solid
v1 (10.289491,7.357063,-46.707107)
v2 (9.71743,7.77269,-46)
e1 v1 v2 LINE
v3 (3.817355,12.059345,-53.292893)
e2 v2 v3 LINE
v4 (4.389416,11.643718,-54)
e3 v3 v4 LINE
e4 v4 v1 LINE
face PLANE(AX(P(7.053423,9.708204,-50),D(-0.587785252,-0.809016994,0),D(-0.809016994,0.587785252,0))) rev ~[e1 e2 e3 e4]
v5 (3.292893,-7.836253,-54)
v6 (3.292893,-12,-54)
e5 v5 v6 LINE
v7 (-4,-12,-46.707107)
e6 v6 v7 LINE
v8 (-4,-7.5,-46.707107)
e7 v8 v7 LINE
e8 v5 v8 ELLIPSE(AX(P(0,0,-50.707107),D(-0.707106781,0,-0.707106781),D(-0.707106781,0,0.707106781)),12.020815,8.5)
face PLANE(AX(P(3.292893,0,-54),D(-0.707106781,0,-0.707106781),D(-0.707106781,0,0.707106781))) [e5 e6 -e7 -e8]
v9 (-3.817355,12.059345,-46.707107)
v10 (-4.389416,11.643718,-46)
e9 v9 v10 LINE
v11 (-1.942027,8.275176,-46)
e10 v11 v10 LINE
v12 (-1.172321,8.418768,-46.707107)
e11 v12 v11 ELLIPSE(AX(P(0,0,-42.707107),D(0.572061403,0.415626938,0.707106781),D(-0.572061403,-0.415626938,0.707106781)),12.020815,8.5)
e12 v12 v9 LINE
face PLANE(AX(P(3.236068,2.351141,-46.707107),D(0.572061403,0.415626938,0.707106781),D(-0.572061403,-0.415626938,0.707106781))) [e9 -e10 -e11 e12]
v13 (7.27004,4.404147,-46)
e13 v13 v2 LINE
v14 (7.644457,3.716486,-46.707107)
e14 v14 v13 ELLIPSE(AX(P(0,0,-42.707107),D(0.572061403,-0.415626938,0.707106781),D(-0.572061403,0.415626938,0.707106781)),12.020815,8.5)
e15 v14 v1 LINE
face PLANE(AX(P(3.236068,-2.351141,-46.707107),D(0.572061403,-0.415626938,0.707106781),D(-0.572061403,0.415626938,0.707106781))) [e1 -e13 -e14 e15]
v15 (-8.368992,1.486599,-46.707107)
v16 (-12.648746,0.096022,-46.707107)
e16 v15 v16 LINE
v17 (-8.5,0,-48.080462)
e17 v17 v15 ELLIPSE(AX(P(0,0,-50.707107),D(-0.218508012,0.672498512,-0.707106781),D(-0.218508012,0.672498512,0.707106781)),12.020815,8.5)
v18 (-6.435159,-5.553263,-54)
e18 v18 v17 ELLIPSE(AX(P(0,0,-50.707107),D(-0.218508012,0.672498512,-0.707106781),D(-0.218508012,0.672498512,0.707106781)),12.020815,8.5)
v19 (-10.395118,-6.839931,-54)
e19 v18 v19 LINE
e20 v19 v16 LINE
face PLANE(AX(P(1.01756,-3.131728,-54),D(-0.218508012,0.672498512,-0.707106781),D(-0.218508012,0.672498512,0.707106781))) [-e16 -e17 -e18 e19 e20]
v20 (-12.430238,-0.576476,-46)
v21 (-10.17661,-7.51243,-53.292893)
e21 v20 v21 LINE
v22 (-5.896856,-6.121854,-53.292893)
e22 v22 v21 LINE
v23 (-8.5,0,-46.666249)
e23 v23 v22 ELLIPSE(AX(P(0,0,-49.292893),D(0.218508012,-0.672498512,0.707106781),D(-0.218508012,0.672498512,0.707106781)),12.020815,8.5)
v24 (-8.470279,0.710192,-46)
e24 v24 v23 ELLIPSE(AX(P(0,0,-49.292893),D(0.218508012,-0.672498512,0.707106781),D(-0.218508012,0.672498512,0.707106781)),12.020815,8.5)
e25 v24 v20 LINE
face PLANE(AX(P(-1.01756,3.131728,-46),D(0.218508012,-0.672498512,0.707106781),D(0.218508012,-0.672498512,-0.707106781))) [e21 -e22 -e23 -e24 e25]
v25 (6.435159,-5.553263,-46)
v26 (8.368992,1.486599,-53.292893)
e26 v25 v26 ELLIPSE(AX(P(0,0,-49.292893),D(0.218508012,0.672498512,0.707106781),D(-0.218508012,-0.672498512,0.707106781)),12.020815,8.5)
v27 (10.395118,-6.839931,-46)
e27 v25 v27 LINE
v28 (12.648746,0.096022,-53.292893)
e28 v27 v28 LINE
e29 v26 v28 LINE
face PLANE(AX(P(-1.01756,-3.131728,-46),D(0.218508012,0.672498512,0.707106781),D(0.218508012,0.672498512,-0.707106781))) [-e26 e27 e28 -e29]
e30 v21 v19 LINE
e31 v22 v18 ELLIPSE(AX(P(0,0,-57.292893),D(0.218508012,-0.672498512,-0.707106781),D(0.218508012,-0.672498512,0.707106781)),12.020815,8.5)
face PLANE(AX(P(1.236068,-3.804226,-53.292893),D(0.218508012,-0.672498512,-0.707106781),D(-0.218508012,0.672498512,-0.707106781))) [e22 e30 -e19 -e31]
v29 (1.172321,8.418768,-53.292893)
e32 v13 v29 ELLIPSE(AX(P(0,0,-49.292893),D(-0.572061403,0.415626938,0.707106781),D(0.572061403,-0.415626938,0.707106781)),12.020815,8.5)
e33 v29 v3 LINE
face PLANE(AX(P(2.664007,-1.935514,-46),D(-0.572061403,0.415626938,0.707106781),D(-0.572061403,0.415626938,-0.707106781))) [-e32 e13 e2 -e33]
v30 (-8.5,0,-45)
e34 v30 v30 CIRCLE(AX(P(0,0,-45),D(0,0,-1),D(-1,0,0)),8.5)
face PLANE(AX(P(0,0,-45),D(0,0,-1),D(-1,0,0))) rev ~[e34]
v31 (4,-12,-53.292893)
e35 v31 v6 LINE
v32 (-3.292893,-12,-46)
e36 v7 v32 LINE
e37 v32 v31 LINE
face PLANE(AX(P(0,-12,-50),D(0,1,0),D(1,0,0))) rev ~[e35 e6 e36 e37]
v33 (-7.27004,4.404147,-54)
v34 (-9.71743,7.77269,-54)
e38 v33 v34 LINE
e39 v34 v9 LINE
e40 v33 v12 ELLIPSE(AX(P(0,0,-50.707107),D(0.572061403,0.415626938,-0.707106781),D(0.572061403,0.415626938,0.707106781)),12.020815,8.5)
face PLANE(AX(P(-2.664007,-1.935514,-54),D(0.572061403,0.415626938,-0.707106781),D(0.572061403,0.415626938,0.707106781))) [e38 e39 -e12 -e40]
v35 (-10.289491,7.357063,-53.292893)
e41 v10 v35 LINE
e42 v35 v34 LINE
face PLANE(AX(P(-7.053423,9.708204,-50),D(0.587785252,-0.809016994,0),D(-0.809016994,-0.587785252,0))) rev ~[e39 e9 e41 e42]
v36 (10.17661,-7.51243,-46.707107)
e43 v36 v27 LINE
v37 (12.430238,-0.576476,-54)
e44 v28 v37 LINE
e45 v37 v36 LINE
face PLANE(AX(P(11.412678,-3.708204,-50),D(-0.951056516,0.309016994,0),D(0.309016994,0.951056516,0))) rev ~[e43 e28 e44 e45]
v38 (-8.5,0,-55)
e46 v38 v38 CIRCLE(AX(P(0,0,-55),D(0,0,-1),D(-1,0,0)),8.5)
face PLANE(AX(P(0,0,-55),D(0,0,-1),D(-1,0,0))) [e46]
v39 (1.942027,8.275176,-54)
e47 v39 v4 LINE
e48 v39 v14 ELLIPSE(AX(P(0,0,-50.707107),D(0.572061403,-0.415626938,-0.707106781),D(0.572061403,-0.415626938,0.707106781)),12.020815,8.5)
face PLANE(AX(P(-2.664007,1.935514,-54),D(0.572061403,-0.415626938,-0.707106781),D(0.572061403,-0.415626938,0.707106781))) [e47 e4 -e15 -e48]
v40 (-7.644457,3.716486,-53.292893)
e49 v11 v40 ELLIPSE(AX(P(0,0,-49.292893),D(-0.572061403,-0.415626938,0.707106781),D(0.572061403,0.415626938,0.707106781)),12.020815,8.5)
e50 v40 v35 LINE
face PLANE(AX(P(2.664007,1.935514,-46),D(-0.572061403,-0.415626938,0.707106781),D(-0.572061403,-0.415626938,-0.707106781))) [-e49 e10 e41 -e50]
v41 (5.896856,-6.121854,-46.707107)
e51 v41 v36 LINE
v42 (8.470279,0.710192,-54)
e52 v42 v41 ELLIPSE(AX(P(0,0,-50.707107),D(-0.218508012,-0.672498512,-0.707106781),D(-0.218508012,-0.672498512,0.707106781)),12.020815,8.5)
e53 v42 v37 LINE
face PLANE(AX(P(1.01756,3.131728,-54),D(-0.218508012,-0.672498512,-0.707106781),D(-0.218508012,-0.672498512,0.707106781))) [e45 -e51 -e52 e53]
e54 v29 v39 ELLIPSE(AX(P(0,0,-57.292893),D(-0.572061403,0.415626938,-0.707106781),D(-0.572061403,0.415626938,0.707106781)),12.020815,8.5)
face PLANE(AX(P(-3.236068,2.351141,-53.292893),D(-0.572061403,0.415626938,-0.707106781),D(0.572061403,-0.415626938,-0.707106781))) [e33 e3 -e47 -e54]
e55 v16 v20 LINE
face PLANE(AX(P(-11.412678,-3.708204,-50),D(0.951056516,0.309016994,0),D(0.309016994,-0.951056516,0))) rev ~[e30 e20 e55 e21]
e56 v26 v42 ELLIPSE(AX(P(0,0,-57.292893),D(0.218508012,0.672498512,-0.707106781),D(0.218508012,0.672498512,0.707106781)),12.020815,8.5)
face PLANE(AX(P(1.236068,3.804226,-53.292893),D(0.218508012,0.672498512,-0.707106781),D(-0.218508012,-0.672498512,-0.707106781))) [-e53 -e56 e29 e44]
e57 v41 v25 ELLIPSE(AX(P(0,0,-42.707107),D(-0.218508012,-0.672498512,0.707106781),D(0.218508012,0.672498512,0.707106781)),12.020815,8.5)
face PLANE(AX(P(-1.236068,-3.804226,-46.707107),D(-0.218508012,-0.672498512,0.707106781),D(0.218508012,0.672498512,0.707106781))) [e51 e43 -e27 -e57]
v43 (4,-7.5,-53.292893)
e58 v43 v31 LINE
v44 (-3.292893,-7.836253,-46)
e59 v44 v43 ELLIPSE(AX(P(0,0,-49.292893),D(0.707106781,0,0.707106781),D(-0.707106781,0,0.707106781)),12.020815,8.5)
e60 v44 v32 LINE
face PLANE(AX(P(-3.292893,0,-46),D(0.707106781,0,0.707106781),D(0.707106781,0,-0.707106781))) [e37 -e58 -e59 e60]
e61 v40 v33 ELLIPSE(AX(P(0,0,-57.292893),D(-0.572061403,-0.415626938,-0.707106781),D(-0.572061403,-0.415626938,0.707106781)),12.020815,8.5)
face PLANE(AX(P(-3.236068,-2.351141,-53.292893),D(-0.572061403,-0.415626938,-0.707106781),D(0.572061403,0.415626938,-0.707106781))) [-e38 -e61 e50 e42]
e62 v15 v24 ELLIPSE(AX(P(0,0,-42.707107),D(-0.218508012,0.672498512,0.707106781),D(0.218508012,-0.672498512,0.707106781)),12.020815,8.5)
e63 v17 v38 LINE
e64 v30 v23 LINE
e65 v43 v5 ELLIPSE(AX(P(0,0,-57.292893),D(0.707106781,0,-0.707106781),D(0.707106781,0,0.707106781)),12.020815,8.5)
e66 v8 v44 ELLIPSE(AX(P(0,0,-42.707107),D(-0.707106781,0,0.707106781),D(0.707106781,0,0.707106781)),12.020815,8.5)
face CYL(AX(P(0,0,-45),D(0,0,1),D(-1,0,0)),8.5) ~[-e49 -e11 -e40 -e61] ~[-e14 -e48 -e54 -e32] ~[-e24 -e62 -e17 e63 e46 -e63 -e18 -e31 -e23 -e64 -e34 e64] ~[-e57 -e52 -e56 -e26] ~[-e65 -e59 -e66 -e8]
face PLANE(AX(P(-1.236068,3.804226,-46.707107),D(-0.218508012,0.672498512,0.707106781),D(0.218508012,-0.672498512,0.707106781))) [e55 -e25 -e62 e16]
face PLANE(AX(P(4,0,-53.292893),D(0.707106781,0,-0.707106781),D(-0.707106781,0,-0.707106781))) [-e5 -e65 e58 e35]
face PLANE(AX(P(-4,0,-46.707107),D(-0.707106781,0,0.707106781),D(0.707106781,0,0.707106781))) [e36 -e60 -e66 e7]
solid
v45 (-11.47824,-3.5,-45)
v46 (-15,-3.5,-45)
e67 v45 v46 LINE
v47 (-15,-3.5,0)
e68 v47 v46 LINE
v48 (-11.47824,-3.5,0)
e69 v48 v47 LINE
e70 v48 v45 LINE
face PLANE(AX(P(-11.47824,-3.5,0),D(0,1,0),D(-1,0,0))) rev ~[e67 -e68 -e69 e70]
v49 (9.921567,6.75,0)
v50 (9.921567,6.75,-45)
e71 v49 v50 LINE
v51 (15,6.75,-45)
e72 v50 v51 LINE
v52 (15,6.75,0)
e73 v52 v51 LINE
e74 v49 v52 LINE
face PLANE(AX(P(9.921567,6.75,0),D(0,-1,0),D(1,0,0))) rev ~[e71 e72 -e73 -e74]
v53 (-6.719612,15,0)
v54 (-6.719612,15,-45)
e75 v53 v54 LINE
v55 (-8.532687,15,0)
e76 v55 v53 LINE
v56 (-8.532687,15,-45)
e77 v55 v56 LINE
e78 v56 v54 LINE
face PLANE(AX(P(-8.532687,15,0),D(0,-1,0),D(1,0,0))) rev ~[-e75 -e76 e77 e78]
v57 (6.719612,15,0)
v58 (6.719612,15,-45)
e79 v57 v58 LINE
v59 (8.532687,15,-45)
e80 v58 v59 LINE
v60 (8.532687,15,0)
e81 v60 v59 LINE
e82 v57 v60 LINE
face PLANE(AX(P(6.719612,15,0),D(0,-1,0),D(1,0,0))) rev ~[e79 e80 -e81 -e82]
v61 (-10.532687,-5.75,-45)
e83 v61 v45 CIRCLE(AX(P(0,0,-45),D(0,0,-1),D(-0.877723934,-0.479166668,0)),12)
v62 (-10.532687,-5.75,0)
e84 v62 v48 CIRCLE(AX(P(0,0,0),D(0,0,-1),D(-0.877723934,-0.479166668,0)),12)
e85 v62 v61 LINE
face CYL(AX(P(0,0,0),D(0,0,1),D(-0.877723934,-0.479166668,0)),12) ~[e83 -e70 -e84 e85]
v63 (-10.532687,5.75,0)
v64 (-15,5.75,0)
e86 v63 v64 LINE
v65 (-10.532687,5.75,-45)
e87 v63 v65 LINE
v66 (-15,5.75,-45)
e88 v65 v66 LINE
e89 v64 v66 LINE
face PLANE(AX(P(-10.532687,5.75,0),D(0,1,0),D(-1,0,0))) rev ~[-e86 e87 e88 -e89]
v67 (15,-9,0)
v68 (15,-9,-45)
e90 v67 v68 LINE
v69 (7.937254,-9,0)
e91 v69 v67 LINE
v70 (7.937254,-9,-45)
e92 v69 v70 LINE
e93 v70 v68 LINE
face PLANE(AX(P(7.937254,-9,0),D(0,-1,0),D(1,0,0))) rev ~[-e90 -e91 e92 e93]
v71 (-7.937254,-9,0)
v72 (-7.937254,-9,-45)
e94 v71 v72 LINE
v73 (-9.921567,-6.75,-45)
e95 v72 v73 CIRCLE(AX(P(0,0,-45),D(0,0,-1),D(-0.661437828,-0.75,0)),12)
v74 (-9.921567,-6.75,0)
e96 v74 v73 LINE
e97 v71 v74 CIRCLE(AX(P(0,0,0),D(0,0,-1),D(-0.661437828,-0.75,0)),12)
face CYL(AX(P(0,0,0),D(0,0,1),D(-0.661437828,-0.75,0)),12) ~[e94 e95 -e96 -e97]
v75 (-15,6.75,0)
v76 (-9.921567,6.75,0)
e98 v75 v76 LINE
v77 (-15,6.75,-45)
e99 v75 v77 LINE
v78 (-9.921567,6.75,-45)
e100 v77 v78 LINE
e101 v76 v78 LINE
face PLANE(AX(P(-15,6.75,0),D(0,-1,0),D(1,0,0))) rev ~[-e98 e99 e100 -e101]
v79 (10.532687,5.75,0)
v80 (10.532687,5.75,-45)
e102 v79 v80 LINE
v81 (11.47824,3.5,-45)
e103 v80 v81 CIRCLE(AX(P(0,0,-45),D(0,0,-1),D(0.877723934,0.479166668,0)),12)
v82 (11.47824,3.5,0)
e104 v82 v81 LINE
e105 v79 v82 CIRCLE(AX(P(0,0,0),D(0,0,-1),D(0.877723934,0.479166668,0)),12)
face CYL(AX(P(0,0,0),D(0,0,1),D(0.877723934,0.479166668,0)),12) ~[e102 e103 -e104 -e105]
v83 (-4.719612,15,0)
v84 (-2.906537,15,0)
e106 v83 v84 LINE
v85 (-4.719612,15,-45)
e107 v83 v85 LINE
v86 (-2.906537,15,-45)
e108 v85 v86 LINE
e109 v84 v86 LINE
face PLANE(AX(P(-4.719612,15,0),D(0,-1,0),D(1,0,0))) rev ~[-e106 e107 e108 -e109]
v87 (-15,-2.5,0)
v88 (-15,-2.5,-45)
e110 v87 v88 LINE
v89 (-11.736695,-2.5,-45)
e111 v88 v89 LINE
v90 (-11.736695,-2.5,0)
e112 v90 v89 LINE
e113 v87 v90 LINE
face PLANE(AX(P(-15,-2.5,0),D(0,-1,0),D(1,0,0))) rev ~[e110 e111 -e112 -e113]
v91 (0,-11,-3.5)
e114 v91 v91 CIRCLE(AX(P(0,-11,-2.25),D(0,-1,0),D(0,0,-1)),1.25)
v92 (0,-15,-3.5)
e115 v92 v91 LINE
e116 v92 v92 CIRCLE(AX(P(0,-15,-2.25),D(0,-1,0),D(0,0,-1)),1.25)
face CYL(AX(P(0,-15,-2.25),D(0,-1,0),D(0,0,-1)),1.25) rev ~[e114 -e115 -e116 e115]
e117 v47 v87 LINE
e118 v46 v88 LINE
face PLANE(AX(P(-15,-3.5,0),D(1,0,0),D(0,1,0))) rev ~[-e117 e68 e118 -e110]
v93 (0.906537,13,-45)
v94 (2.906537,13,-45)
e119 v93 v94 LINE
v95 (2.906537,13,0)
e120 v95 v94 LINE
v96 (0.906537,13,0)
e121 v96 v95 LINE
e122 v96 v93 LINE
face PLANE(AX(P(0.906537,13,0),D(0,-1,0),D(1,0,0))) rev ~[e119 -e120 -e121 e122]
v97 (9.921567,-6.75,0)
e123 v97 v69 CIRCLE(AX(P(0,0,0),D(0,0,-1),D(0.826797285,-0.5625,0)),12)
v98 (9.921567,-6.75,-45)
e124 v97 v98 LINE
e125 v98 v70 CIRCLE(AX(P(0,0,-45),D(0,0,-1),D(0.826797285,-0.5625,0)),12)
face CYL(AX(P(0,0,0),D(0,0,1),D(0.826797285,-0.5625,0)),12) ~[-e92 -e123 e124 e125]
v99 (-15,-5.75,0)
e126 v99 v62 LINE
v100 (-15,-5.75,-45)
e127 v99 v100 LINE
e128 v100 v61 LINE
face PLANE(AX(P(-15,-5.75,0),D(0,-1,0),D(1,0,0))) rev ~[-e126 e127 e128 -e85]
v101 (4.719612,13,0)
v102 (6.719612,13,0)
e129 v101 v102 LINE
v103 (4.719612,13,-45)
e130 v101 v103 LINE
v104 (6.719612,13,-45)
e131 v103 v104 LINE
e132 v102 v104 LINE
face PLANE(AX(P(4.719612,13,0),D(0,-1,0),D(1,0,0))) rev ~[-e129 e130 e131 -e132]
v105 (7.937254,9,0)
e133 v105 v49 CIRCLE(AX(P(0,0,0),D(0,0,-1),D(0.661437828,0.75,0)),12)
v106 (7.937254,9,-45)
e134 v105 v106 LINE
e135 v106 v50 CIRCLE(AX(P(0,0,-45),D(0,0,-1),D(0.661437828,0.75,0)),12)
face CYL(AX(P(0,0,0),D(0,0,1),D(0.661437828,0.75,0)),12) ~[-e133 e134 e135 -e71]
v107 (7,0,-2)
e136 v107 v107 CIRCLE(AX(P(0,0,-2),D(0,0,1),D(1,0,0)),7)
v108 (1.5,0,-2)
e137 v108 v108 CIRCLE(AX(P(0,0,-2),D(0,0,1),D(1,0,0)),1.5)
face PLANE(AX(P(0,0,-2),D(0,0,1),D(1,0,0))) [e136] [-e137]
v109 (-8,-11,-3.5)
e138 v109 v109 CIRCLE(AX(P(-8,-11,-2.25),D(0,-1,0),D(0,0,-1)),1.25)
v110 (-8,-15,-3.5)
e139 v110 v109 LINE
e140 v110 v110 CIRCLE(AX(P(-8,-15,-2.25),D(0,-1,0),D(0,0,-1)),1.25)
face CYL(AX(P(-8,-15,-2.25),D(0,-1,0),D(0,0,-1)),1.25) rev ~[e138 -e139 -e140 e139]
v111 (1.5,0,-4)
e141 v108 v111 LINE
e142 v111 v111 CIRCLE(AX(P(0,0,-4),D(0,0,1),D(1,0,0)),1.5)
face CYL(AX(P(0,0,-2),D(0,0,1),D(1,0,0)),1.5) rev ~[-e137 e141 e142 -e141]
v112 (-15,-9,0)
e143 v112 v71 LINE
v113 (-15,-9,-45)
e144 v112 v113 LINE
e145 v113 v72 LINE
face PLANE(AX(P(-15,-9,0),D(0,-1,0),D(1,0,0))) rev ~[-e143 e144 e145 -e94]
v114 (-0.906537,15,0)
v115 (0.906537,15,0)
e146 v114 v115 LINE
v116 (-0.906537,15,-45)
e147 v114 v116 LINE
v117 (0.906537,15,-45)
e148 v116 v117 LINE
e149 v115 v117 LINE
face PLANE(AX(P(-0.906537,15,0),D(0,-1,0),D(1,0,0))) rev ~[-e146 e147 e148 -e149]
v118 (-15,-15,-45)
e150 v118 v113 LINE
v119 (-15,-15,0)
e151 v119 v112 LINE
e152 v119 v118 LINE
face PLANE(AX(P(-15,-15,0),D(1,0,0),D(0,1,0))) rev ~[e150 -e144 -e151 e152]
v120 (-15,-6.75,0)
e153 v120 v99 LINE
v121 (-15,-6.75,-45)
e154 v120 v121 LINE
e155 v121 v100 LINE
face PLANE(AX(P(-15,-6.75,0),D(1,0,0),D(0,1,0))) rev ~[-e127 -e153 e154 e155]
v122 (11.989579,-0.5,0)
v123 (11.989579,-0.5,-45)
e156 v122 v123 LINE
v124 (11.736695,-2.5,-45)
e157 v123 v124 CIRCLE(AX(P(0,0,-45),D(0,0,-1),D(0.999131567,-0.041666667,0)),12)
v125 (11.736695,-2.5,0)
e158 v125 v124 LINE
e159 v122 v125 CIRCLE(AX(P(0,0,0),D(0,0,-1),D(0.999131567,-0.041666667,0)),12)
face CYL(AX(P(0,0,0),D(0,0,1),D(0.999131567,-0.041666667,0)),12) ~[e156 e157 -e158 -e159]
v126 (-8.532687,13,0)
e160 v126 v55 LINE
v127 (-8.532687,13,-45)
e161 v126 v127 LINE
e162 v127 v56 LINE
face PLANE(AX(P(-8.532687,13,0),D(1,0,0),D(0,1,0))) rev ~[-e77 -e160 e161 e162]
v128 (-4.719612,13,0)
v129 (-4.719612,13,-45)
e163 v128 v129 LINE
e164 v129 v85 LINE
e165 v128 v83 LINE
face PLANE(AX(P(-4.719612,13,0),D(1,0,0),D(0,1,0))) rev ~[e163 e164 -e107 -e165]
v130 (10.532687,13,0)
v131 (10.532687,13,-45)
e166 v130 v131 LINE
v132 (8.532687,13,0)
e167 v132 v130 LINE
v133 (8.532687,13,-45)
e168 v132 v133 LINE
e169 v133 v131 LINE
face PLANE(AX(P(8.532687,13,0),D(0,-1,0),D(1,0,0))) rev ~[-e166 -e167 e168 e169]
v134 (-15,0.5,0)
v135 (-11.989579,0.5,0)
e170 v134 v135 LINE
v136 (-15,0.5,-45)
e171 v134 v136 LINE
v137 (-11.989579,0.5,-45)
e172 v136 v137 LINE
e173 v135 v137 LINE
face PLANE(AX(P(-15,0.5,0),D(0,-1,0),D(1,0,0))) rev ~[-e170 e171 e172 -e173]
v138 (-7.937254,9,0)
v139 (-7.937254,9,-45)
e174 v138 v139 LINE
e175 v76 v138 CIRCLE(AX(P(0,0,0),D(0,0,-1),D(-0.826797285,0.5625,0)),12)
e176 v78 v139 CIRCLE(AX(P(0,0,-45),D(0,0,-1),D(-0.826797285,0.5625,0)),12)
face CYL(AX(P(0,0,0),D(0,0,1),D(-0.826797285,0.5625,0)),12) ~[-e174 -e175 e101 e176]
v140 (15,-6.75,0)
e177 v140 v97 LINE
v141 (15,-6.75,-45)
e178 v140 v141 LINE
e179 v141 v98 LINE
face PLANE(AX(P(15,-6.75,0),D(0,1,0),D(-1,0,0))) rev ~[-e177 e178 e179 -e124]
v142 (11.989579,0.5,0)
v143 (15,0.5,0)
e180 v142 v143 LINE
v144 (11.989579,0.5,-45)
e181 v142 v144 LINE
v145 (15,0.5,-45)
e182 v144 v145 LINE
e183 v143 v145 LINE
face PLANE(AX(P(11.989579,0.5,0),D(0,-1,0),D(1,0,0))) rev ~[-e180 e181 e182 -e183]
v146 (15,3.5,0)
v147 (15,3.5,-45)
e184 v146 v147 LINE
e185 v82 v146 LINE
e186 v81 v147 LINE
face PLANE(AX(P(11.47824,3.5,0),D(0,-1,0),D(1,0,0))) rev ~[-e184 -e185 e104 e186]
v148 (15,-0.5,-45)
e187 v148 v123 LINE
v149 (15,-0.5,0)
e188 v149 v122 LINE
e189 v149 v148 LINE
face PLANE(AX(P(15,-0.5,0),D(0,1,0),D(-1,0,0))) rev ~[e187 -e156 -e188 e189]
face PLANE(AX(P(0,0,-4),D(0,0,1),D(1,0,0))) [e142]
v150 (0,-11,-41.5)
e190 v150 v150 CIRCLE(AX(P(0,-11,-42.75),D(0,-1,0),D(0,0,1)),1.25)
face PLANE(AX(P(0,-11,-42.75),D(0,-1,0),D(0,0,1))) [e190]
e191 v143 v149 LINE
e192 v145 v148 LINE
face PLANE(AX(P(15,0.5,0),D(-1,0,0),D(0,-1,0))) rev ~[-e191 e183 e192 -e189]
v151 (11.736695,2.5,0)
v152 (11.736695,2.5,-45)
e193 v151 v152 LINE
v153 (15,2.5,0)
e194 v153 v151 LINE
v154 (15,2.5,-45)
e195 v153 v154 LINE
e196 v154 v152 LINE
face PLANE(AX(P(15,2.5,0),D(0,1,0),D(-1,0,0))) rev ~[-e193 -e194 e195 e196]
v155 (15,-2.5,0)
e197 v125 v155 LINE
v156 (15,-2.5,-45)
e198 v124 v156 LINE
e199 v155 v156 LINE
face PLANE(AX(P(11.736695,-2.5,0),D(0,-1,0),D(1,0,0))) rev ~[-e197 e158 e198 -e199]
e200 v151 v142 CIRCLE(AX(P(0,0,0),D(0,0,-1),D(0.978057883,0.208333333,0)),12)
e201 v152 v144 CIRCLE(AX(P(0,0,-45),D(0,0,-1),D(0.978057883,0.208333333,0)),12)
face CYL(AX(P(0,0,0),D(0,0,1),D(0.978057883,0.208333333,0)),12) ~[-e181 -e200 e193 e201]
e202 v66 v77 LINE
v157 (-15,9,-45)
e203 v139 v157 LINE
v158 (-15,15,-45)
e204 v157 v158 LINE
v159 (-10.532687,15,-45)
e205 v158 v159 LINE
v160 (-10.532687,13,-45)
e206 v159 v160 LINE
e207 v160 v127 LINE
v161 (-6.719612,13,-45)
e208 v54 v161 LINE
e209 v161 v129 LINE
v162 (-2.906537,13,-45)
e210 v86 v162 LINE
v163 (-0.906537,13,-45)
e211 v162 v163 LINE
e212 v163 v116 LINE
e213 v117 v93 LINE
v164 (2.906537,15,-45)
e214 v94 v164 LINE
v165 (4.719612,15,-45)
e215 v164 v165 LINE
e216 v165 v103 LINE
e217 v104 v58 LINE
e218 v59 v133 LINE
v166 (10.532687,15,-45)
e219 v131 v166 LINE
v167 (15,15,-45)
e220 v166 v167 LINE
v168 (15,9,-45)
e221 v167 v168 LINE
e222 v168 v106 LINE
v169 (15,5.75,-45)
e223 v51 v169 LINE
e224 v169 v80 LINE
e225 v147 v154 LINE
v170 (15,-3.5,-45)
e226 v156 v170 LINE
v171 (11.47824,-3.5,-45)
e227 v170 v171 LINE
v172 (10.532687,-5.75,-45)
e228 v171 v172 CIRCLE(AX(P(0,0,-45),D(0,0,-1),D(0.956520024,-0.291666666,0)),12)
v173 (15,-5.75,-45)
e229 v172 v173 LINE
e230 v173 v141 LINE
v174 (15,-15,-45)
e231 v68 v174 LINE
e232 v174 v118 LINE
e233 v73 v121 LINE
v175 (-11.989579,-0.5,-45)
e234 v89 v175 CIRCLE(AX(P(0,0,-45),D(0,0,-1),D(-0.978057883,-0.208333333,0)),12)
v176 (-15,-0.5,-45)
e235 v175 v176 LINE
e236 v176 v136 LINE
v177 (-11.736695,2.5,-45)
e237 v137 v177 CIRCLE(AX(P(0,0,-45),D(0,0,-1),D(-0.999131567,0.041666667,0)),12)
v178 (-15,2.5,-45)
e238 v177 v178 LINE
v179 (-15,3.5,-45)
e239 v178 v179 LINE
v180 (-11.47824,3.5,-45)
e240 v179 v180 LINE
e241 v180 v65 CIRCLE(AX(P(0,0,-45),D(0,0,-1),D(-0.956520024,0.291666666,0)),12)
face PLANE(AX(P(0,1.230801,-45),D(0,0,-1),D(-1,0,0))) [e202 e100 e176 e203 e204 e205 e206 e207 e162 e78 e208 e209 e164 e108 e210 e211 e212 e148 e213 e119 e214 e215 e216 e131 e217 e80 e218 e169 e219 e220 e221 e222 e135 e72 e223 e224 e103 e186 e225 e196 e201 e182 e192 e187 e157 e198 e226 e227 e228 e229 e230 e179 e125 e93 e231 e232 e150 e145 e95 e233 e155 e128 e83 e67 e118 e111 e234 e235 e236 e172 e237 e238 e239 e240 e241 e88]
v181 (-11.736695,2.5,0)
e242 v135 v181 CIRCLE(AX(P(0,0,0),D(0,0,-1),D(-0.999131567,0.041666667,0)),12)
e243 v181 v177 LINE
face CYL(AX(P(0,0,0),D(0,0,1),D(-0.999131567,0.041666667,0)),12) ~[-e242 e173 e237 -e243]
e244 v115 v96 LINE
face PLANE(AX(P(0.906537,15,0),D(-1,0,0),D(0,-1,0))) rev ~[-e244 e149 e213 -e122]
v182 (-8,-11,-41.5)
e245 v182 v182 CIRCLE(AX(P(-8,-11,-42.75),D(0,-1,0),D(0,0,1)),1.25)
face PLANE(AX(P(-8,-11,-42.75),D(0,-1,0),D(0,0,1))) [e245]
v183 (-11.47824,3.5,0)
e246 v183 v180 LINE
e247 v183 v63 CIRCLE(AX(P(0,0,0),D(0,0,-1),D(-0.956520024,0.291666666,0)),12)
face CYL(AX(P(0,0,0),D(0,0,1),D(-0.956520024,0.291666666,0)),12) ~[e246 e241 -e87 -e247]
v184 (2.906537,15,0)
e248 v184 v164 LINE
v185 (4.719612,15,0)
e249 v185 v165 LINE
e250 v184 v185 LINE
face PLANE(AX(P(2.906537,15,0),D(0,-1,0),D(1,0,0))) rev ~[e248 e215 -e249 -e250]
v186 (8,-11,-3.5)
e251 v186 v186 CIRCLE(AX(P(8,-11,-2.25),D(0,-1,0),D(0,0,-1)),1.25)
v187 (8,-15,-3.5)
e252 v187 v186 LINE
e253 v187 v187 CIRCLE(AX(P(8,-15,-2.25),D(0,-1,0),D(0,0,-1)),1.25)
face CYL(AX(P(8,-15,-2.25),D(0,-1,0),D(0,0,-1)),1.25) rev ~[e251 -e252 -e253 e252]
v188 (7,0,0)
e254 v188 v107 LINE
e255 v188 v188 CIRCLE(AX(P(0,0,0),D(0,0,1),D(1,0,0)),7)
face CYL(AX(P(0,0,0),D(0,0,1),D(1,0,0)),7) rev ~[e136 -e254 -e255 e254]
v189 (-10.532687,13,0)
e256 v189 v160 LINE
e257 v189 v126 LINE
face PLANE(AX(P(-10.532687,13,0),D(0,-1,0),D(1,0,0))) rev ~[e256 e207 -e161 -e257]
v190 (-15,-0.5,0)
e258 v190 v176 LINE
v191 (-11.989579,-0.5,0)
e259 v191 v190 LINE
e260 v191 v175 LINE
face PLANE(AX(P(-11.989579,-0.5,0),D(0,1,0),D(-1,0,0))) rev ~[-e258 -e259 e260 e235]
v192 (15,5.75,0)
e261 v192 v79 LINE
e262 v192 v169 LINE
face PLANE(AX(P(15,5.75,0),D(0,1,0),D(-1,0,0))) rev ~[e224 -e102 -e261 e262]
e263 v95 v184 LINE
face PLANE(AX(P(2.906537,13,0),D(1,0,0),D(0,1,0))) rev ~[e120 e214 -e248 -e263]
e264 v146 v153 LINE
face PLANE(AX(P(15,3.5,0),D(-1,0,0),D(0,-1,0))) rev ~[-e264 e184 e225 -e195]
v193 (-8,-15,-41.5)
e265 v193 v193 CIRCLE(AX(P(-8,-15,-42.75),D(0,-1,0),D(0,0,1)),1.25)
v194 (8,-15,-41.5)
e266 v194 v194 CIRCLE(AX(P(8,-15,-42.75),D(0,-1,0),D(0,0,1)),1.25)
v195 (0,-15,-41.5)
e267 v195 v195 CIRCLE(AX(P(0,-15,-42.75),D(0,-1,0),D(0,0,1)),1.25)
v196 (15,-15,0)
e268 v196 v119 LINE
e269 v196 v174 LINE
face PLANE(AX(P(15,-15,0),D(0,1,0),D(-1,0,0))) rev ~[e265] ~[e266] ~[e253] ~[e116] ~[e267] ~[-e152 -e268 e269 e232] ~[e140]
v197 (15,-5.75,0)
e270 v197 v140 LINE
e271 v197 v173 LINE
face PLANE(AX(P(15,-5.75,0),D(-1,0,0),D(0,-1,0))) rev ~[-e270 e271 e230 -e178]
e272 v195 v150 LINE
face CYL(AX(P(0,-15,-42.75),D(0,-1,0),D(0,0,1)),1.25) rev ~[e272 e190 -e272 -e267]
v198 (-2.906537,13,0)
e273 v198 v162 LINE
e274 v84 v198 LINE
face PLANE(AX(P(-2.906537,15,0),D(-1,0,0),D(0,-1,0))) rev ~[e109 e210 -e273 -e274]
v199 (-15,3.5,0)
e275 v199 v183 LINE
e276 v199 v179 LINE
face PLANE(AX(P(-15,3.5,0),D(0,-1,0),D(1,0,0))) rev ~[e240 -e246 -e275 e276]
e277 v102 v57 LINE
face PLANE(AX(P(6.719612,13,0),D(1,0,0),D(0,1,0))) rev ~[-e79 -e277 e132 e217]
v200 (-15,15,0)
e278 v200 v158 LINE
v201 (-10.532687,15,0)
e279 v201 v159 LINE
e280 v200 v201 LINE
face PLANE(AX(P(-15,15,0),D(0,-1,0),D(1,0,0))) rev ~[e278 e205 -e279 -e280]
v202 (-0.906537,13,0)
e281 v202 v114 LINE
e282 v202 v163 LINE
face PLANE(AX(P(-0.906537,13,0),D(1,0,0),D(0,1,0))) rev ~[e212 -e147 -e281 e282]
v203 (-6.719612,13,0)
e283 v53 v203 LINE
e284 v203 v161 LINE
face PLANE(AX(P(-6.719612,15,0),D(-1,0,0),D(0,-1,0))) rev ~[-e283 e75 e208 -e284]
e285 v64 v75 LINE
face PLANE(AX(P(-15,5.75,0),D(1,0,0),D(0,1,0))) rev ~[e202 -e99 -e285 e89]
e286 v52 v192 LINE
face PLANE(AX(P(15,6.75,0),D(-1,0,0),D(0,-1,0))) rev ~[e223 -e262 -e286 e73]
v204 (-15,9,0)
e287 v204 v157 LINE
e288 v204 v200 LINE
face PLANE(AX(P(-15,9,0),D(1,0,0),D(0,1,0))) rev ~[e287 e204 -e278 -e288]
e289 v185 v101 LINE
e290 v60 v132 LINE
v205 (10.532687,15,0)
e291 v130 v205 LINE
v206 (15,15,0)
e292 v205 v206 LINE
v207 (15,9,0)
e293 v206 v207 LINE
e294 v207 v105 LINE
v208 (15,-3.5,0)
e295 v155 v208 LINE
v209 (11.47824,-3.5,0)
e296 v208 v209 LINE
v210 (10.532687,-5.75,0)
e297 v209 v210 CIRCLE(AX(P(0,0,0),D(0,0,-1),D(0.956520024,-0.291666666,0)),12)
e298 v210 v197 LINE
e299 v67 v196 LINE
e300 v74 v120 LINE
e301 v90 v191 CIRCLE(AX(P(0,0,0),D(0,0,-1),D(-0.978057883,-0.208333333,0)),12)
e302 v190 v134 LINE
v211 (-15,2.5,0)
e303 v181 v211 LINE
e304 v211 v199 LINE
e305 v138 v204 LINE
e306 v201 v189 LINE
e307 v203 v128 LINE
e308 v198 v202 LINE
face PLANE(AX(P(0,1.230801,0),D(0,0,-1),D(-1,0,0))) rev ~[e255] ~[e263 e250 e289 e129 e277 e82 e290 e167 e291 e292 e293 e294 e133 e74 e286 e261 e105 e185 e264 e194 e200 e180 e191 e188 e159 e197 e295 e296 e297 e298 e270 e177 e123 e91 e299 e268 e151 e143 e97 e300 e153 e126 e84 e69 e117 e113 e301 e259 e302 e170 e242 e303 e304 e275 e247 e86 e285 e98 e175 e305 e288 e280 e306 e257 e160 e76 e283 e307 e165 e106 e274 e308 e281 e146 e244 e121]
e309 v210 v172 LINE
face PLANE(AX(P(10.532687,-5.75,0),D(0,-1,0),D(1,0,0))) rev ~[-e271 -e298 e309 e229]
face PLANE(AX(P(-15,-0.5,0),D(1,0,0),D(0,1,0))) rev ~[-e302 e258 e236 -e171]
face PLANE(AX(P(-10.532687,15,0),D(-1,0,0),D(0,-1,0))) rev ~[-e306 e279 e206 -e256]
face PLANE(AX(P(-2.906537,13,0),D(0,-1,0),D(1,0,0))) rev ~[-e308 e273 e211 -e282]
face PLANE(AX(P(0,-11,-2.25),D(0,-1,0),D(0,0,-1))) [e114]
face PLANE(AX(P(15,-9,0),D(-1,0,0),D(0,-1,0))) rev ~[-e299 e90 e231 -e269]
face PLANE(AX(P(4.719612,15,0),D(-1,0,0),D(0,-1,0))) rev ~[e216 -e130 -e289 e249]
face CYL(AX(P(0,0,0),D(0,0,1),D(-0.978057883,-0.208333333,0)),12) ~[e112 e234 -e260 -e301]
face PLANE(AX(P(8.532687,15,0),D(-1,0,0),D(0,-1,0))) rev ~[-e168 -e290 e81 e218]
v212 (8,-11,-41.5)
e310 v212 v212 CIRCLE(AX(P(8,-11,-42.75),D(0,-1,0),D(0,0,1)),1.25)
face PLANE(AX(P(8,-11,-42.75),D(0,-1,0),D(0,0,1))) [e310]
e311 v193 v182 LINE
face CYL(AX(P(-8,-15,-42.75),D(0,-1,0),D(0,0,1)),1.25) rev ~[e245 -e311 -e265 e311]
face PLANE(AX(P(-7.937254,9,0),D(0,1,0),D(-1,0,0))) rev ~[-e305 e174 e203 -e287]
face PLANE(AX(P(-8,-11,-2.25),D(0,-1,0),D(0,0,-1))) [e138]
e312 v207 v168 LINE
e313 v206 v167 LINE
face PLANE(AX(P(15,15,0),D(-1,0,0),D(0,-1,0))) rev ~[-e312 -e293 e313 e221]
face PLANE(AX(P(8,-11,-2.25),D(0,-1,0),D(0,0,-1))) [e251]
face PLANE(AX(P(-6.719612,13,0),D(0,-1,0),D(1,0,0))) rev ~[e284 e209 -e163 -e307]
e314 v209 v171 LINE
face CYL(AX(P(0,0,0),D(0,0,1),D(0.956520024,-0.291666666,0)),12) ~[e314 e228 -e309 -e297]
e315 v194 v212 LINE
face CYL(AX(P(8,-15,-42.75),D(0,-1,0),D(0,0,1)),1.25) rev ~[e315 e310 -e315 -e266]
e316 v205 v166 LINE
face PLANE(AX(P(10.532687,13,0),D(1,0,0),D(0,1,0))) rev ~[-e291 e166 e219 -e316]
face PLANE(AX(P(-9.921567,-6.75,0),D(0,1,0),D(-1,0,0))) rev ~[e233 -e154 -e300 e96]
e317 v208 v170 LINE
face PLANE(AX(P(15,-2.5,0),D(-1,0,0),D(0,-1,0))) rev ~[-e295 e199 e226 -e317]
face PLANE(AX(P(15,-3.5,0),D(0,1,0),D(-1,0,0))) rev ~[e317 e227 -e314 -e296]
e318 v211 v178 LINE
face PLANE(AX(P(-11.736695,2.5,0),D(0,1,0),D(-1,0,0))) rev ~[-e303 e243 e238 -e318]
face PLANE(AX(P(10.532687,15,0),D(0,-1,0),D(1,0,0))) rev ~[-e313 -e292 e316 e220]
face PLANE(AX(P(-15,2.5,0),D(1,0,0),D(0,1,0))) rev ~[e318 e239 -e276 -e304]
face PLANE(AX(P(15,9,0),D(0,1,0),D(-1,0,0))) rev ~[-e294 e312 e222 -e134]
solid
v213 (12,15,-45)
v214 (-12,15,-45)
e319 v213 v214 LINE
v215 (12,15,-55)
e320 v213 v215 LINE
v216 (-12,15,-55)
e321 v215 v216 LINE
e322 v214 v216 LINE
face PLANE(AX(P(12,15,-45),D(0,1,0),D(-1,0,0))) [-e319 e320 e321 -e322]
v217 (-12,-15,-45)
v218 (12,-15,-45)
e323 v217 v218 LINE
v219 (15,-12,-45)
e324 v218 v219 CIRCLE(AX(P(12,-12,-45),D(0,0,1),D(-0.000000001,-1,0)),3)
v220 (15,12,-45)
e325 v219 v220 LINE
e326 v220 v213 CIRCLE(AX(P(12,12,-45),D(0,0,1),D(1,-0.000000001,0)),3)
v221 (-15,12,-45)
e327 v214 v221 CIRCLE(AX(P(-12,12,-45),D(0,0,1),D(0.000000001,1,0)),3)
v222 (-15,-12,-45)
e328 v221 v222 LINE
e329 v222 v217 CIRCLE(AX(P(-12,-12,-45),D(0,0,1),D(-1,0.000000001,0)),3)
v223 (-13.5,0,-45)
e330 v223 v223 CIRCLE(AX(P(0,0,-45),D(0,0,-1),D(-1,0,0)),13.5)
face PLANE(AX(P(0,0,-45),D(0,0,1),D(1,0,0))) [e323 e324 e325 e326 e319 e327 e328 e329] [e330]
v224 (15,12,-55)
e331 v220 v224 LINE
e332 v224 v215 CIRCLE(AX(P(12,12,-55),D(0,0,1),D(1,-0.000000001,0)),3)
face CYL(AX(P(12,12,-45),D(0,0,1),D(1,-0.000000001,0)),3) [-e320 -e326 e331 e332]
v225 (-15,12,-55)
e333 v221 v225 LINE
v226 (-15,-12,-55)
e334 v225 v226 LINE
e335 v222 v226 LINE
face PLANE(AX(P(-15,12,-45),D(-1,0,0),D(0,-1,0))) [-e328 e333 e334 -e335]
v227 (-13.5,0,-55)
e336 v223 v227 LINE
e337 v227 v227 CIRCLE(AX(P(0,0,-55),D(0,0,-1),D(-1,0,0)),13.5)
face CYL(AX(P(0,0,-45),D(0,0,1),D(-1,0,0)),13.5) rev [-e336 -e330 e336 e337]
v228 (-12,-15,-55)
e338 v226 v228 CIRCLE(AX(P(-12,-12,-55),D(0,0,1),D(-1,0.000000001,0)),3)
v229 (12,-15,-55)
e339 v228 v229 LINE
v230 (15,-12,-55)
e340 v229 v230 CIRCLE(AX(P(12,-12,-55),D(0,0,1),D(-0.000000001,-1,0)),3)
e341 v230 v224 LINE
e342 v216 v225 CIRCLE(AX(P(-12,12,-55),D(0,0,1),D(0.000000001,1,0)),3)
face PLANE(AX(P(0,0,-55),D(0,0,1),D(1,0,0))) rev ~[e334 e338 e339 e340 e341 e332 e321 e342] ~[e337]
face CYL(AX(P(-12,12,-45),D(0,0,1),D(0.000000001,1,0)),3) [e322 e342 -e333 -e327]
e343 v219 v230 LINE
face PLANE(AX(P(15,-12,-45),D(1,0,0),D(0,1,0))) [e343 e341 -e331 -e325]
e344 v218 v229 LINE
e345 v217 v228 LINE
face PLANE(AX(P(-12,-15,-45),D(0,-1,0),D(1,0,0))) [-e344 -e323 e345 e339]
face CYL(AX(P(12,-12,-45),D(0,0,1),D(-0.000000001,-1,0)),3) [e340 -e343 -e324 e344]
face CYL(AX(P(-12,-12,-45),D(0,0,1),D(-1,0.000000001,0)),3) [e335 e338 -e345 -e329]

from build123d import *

# Parameters (mm, degrees)
BOSS_EXTRUDE1_DEPTH = 45
SKETCH2_R           = 7
CUT_EXTRUDE1_DEPTH  = 2
SKETCH3_R           = 1.5
CUT_EXTRUDE2_DEPTH  = 2
SKETCH4_R           = 1.25
CUT_EXTRUDE5_DEPTH  = 4
SKETCH5_R           = 13.5
BOSS_EXTRUDE2_DEPTH = 10
SKETCH6_R           = 8.5
BOSS_EXTRUDE3_DEPTH = 10
BOSS_EXTRUDE4_DEPTH = 12
CIRPATTERN1_COUNT   = 5


with BuildPart() as part:
    # Sketch1 → Boss-Extrude1 (new body)
    with BuildSketch(Plane.XY):
        with BuildLine():
            Line((-15, -9), (-7.937253933, -9))
            ThreePointArc((-7.937253933, -9), (-9, -7.937253933), (-9.921567416, -6.75))
            Line((-9.921567416, -6.75), (-15, -6.75))
            Line((-15, -6.75), (-15, -5.75))
            Line((-15, -5.75), (-10.532687216, -5.75))
            ThreePointArc((-10.532687216, -5.75), (-11.06281417, -4.649101273), (-11.478240283, -3.5))
            Line((-11.478240283, -3.5), (-15, -3.5))
            Line((-15, -3.5), (-15, -2.5))
            Line((-15, -2.5), (-11.736694594, -2.5))
            ThreePointArc((-11.736694594, -2.5), (-11.905209464, -1.505319769), (-11.989578808, -0.5))
            Line((-11.989578808, -0.5), (-15, -0.5))
            Line((-15, -0.5), (-15, 0.5))
            Line((-15, 0.5), (-11.989578808, 0.5))
            ThreePointArc((-11.989578808, 0.5), (-11.905209464, 1.505319769), (-11.736694594, 2.5))
            Line((-11.736694594, 2.5), (-15, 2.5))
            Line((-15, 2.5), (-15, 3.5))
            Line((-15, 3.5), (-11.478240283, 3.5))
            ThreePointArc((-11.478240283, 3.5), (-11.06281417, 4.649101273), (-10.532687216, 5.75))
            Line((-10.532687216, 5.75), (-15, 5.75))
            Line((-15, 5.75), (-15, 6.75))
            Line((-15, 6.75), (-9.921567416, 6.75))
            ThreePointArc((-9.921567416, 6.75), (-9, 7.937253933), (-7.937253933, 9))
            Line((-7.937253933, 9), (-15, 9))
            Line((-15, 9), (-15, 15))
            Line((-15, 15), (-10.532687216, 15))
            Line((-10.532687216, 15), (-10.532687216, 13))
            Line((-10.532687216, 13), (-8.532687216, 13))
            Line((-8.532687216, 13), (-8.532687216, 15))
            Line((-8.532687216, 15), (-6.71961233, 15))
            Line((-6.71961233, 15), (-6.71961233, 13))
            Line((-6.71961233, 13), (-4.71961233, 13))
            Line((-4.71961233, 13), (-4.71961233, 15))
            Line((-4.71961233, 15), (-2.906537443, 15))
            Line((-2.906537443, 15), (-2.906537443, 13))
            Line((-2.906537443, 13), (-0.906537443, 13))
            Line((-0.906537443, 13), (-0.906537443, 15))
            Line((-0.906537443, 15), (0.906537443, 15))
            Line((0.906537443, 15), (0.906537443, 13))
            Line((0.906537443, 13), (2.906537443, 13))
            Line((2.906537443, 13), (2.906537443, 15))
            Line((2.906537443, 15), (4.71961233, 15))
            Line((4.71961233, 15), (4.71961233, 13))
            Line((4.71961233, 13), (6.71961233, 13))
            Line((6.71961233, 13), (6.71961233, 15))
            Line((6.71961233, 15), (8.532687216, 15))
            Line((8.532687216, 15), (8.532687216, 13))
            Line((8.532687216, 13), (10.532687216, 13))
            Line((10.532687216, 13), (10.532687216, 15))
            Line((10.532687216, 15), (15, 15))
            Line((15, 15), (15, 9))
            Line((15, 9), (7.937253933, 9))
            ThreePointArc((7.937253933, 9), (9, 7.937253933), (9.921567416, 6.75))
            Line((9.921567416, 6.75), (15, 6.75))
            Line((15, 6.75), (15, 5.75))
            Line((15, 5.75), (10.532687216, 5.75))
            ThreePointArc((10.532687216, 5.75), (11.06281417, 4.649101273), (11.478240283, 3.5))
            Line((11.478240283, 3.5), (15, 3.5))
            Line((15, 3.5), (15, 2.5))
            Line((15, 2.5), (11.736694594, 2.5))
            ThreePointArc((11.736694594, 2.5), (11.905209464, 1.505319769), (11.989578808, 0.5))
            Line((11.989578808, 0.5), (15, 0.5))
            Line((15, 0.5), (15, -0.5))
            Line((15, -0.5), (11.989578808, -0.5))
            ThreePointArc((11.989578808, -0.5), (11.905209464, -1.505319769), (11.736694594, -2.5))
            Line((11.736694594, -2.5), (15, -2.5))
            Line((15, -2.5), (15, -3.5))
            Line((15, -3.5), (11.478240283, -3.5))
            ThreePointArc((11.478240283, -3.5), (11.06281417, -4.649101273), (10.532687216, -5.75))
            Line((10.532687216, -5.75), (15, -5.75))
            Line((15, -5.75), (15, -6.75))
            Line((15, -6.75), (9.921567416, -6.75))
            ThreePointArc((9.921567416, -6.75), (9, -7.937253933), (7.937253933, -9))
            Line((7.937253933, -9), (15, -9))
            Line((15, -9), (15, -15))
            Line((15, -15), (-15, -15))
            Line((-15, -15), (-15, -9))
        make_face()
    extrude(amount=-BOSS_EXTRUDE1_DEPTH)

    # Sketch2 → Cut-Extrude1 (cut)
    with BuildSketch(Plane.XY):
        Circle(SKETCH2_R)
    extrude(amount=-CUT_EXTRUDE1_DEPTH, mode=Mode.SUBTRACT)

    # Sketch3 → Cut-Extrude2 (cut)
    with BuildSketch(Plane.XY.offset(-2)):
        Circle(SKETCH3_R)
    extrude(amount=-CUT_EXTRUDE2_DEPTH, mode=Mode.SUBTRACT)

    # Sketch4 → Cut-Extrude5 (cut)
    with BuildSketch(Plane.XZ.offset(15)):
        with Locations(Location((-8, -2.25, 0), (0, 0, 270))):
            Circle(SKETCH4_R)
        with Locations(Location((0, -2.25, 0), (0, 0, 270))):
            Circle(SKETCH4_R)
        with Locations(Location((8, -2.25, 0), (0, 0, 270))):
            Circle(SKETCH4_R)
        with Locations(Location((8, -42.75, 0), (0, 0, 90))):
            Circle(SKETCH4_R)
        with Locations(Location((0, -42.75, 0), (0, 0, 90))):
            Circle(SKETCH4_R)
        with Locations(Location((-8, -42.75, 0), (0, 0, 90))):
            Circle(SKETCH4_R)
    extrude(amount=-CUT_EXTRUDE5_DEPTH, mode=Mode.SUBTRACT)


with BuildPart() as body_2:
    # Sketch5 → Boss-Extrude2 (new body)
    with BuildSketch(Plane(origin=(0, 0, -45), x_dir=(-1, 0, 0), z_dir=(0, 0, -1))):
        with BuildLine():
            Line((-12, 15), (12, 15))
            ThreePointArc((12, 15), (14.121320344, 14.121320344), (15, 12))
            Line((15, 12), (15, -12))
            ThreePointArc((15, -12), (14.121320344, -14.121320344), (12, -15))
            Line((12, -15), (-12, -15))
            ThreePointArc((-12, -15), (-14.121320344, -14.121320344), (-15, -12))
            Line((-15, -12), (-15, 12))
            ThreePointArc((-15, 12), (-14.121320344, 14.121320344), (-12, 15))
        make_face()
        Circle(SKETCH5_R, mode=Mode.SUBTRACT)
    extrude(amount=BOSS_EXTRUDE2_DEPTH)


with BuildPart() as body_3:
    # Sketch6 → Boss-Extrude3 (new body)
    with BuildSketch(Plane(origin=(0, 0, -45), x_dir=(-1, 0, 0), z_dir=(0, 0, -1))):
        Circle(SKETCH6_R)
    extrude(amount=BOSS_EXTRUDE3_DEPTH)

    # Sketch7 → Boss-Extrude4 (add)
    with BuildSketch(Plane(origin=(0, 0, 0), x_dir=(-1, 0, 0), z_dir=(0, -1, 0))):
        Polygon((-4, 53.292893219), (-3.292893219, 54), (4, 46.707106781), (3.292893219, 46), align=None)
    boss_extrude4 = extrude(amount=BOSS_EXTRUDE4_DEPTH)

    # CirPattern1: Boss-Extrude4 ×5 about axis
    cirpattern1_axis = Axis((0, 0, 0), (0, 0, 1))
    for i in range(1, CIRPATTERN1_COUNT):
        add(boss_extrude4.rotate(cirpattern1_axis, i * 360 / CIRPATTERN1_COUNT))


solid = Compound([part.part, body_2.part, body_3.part])
